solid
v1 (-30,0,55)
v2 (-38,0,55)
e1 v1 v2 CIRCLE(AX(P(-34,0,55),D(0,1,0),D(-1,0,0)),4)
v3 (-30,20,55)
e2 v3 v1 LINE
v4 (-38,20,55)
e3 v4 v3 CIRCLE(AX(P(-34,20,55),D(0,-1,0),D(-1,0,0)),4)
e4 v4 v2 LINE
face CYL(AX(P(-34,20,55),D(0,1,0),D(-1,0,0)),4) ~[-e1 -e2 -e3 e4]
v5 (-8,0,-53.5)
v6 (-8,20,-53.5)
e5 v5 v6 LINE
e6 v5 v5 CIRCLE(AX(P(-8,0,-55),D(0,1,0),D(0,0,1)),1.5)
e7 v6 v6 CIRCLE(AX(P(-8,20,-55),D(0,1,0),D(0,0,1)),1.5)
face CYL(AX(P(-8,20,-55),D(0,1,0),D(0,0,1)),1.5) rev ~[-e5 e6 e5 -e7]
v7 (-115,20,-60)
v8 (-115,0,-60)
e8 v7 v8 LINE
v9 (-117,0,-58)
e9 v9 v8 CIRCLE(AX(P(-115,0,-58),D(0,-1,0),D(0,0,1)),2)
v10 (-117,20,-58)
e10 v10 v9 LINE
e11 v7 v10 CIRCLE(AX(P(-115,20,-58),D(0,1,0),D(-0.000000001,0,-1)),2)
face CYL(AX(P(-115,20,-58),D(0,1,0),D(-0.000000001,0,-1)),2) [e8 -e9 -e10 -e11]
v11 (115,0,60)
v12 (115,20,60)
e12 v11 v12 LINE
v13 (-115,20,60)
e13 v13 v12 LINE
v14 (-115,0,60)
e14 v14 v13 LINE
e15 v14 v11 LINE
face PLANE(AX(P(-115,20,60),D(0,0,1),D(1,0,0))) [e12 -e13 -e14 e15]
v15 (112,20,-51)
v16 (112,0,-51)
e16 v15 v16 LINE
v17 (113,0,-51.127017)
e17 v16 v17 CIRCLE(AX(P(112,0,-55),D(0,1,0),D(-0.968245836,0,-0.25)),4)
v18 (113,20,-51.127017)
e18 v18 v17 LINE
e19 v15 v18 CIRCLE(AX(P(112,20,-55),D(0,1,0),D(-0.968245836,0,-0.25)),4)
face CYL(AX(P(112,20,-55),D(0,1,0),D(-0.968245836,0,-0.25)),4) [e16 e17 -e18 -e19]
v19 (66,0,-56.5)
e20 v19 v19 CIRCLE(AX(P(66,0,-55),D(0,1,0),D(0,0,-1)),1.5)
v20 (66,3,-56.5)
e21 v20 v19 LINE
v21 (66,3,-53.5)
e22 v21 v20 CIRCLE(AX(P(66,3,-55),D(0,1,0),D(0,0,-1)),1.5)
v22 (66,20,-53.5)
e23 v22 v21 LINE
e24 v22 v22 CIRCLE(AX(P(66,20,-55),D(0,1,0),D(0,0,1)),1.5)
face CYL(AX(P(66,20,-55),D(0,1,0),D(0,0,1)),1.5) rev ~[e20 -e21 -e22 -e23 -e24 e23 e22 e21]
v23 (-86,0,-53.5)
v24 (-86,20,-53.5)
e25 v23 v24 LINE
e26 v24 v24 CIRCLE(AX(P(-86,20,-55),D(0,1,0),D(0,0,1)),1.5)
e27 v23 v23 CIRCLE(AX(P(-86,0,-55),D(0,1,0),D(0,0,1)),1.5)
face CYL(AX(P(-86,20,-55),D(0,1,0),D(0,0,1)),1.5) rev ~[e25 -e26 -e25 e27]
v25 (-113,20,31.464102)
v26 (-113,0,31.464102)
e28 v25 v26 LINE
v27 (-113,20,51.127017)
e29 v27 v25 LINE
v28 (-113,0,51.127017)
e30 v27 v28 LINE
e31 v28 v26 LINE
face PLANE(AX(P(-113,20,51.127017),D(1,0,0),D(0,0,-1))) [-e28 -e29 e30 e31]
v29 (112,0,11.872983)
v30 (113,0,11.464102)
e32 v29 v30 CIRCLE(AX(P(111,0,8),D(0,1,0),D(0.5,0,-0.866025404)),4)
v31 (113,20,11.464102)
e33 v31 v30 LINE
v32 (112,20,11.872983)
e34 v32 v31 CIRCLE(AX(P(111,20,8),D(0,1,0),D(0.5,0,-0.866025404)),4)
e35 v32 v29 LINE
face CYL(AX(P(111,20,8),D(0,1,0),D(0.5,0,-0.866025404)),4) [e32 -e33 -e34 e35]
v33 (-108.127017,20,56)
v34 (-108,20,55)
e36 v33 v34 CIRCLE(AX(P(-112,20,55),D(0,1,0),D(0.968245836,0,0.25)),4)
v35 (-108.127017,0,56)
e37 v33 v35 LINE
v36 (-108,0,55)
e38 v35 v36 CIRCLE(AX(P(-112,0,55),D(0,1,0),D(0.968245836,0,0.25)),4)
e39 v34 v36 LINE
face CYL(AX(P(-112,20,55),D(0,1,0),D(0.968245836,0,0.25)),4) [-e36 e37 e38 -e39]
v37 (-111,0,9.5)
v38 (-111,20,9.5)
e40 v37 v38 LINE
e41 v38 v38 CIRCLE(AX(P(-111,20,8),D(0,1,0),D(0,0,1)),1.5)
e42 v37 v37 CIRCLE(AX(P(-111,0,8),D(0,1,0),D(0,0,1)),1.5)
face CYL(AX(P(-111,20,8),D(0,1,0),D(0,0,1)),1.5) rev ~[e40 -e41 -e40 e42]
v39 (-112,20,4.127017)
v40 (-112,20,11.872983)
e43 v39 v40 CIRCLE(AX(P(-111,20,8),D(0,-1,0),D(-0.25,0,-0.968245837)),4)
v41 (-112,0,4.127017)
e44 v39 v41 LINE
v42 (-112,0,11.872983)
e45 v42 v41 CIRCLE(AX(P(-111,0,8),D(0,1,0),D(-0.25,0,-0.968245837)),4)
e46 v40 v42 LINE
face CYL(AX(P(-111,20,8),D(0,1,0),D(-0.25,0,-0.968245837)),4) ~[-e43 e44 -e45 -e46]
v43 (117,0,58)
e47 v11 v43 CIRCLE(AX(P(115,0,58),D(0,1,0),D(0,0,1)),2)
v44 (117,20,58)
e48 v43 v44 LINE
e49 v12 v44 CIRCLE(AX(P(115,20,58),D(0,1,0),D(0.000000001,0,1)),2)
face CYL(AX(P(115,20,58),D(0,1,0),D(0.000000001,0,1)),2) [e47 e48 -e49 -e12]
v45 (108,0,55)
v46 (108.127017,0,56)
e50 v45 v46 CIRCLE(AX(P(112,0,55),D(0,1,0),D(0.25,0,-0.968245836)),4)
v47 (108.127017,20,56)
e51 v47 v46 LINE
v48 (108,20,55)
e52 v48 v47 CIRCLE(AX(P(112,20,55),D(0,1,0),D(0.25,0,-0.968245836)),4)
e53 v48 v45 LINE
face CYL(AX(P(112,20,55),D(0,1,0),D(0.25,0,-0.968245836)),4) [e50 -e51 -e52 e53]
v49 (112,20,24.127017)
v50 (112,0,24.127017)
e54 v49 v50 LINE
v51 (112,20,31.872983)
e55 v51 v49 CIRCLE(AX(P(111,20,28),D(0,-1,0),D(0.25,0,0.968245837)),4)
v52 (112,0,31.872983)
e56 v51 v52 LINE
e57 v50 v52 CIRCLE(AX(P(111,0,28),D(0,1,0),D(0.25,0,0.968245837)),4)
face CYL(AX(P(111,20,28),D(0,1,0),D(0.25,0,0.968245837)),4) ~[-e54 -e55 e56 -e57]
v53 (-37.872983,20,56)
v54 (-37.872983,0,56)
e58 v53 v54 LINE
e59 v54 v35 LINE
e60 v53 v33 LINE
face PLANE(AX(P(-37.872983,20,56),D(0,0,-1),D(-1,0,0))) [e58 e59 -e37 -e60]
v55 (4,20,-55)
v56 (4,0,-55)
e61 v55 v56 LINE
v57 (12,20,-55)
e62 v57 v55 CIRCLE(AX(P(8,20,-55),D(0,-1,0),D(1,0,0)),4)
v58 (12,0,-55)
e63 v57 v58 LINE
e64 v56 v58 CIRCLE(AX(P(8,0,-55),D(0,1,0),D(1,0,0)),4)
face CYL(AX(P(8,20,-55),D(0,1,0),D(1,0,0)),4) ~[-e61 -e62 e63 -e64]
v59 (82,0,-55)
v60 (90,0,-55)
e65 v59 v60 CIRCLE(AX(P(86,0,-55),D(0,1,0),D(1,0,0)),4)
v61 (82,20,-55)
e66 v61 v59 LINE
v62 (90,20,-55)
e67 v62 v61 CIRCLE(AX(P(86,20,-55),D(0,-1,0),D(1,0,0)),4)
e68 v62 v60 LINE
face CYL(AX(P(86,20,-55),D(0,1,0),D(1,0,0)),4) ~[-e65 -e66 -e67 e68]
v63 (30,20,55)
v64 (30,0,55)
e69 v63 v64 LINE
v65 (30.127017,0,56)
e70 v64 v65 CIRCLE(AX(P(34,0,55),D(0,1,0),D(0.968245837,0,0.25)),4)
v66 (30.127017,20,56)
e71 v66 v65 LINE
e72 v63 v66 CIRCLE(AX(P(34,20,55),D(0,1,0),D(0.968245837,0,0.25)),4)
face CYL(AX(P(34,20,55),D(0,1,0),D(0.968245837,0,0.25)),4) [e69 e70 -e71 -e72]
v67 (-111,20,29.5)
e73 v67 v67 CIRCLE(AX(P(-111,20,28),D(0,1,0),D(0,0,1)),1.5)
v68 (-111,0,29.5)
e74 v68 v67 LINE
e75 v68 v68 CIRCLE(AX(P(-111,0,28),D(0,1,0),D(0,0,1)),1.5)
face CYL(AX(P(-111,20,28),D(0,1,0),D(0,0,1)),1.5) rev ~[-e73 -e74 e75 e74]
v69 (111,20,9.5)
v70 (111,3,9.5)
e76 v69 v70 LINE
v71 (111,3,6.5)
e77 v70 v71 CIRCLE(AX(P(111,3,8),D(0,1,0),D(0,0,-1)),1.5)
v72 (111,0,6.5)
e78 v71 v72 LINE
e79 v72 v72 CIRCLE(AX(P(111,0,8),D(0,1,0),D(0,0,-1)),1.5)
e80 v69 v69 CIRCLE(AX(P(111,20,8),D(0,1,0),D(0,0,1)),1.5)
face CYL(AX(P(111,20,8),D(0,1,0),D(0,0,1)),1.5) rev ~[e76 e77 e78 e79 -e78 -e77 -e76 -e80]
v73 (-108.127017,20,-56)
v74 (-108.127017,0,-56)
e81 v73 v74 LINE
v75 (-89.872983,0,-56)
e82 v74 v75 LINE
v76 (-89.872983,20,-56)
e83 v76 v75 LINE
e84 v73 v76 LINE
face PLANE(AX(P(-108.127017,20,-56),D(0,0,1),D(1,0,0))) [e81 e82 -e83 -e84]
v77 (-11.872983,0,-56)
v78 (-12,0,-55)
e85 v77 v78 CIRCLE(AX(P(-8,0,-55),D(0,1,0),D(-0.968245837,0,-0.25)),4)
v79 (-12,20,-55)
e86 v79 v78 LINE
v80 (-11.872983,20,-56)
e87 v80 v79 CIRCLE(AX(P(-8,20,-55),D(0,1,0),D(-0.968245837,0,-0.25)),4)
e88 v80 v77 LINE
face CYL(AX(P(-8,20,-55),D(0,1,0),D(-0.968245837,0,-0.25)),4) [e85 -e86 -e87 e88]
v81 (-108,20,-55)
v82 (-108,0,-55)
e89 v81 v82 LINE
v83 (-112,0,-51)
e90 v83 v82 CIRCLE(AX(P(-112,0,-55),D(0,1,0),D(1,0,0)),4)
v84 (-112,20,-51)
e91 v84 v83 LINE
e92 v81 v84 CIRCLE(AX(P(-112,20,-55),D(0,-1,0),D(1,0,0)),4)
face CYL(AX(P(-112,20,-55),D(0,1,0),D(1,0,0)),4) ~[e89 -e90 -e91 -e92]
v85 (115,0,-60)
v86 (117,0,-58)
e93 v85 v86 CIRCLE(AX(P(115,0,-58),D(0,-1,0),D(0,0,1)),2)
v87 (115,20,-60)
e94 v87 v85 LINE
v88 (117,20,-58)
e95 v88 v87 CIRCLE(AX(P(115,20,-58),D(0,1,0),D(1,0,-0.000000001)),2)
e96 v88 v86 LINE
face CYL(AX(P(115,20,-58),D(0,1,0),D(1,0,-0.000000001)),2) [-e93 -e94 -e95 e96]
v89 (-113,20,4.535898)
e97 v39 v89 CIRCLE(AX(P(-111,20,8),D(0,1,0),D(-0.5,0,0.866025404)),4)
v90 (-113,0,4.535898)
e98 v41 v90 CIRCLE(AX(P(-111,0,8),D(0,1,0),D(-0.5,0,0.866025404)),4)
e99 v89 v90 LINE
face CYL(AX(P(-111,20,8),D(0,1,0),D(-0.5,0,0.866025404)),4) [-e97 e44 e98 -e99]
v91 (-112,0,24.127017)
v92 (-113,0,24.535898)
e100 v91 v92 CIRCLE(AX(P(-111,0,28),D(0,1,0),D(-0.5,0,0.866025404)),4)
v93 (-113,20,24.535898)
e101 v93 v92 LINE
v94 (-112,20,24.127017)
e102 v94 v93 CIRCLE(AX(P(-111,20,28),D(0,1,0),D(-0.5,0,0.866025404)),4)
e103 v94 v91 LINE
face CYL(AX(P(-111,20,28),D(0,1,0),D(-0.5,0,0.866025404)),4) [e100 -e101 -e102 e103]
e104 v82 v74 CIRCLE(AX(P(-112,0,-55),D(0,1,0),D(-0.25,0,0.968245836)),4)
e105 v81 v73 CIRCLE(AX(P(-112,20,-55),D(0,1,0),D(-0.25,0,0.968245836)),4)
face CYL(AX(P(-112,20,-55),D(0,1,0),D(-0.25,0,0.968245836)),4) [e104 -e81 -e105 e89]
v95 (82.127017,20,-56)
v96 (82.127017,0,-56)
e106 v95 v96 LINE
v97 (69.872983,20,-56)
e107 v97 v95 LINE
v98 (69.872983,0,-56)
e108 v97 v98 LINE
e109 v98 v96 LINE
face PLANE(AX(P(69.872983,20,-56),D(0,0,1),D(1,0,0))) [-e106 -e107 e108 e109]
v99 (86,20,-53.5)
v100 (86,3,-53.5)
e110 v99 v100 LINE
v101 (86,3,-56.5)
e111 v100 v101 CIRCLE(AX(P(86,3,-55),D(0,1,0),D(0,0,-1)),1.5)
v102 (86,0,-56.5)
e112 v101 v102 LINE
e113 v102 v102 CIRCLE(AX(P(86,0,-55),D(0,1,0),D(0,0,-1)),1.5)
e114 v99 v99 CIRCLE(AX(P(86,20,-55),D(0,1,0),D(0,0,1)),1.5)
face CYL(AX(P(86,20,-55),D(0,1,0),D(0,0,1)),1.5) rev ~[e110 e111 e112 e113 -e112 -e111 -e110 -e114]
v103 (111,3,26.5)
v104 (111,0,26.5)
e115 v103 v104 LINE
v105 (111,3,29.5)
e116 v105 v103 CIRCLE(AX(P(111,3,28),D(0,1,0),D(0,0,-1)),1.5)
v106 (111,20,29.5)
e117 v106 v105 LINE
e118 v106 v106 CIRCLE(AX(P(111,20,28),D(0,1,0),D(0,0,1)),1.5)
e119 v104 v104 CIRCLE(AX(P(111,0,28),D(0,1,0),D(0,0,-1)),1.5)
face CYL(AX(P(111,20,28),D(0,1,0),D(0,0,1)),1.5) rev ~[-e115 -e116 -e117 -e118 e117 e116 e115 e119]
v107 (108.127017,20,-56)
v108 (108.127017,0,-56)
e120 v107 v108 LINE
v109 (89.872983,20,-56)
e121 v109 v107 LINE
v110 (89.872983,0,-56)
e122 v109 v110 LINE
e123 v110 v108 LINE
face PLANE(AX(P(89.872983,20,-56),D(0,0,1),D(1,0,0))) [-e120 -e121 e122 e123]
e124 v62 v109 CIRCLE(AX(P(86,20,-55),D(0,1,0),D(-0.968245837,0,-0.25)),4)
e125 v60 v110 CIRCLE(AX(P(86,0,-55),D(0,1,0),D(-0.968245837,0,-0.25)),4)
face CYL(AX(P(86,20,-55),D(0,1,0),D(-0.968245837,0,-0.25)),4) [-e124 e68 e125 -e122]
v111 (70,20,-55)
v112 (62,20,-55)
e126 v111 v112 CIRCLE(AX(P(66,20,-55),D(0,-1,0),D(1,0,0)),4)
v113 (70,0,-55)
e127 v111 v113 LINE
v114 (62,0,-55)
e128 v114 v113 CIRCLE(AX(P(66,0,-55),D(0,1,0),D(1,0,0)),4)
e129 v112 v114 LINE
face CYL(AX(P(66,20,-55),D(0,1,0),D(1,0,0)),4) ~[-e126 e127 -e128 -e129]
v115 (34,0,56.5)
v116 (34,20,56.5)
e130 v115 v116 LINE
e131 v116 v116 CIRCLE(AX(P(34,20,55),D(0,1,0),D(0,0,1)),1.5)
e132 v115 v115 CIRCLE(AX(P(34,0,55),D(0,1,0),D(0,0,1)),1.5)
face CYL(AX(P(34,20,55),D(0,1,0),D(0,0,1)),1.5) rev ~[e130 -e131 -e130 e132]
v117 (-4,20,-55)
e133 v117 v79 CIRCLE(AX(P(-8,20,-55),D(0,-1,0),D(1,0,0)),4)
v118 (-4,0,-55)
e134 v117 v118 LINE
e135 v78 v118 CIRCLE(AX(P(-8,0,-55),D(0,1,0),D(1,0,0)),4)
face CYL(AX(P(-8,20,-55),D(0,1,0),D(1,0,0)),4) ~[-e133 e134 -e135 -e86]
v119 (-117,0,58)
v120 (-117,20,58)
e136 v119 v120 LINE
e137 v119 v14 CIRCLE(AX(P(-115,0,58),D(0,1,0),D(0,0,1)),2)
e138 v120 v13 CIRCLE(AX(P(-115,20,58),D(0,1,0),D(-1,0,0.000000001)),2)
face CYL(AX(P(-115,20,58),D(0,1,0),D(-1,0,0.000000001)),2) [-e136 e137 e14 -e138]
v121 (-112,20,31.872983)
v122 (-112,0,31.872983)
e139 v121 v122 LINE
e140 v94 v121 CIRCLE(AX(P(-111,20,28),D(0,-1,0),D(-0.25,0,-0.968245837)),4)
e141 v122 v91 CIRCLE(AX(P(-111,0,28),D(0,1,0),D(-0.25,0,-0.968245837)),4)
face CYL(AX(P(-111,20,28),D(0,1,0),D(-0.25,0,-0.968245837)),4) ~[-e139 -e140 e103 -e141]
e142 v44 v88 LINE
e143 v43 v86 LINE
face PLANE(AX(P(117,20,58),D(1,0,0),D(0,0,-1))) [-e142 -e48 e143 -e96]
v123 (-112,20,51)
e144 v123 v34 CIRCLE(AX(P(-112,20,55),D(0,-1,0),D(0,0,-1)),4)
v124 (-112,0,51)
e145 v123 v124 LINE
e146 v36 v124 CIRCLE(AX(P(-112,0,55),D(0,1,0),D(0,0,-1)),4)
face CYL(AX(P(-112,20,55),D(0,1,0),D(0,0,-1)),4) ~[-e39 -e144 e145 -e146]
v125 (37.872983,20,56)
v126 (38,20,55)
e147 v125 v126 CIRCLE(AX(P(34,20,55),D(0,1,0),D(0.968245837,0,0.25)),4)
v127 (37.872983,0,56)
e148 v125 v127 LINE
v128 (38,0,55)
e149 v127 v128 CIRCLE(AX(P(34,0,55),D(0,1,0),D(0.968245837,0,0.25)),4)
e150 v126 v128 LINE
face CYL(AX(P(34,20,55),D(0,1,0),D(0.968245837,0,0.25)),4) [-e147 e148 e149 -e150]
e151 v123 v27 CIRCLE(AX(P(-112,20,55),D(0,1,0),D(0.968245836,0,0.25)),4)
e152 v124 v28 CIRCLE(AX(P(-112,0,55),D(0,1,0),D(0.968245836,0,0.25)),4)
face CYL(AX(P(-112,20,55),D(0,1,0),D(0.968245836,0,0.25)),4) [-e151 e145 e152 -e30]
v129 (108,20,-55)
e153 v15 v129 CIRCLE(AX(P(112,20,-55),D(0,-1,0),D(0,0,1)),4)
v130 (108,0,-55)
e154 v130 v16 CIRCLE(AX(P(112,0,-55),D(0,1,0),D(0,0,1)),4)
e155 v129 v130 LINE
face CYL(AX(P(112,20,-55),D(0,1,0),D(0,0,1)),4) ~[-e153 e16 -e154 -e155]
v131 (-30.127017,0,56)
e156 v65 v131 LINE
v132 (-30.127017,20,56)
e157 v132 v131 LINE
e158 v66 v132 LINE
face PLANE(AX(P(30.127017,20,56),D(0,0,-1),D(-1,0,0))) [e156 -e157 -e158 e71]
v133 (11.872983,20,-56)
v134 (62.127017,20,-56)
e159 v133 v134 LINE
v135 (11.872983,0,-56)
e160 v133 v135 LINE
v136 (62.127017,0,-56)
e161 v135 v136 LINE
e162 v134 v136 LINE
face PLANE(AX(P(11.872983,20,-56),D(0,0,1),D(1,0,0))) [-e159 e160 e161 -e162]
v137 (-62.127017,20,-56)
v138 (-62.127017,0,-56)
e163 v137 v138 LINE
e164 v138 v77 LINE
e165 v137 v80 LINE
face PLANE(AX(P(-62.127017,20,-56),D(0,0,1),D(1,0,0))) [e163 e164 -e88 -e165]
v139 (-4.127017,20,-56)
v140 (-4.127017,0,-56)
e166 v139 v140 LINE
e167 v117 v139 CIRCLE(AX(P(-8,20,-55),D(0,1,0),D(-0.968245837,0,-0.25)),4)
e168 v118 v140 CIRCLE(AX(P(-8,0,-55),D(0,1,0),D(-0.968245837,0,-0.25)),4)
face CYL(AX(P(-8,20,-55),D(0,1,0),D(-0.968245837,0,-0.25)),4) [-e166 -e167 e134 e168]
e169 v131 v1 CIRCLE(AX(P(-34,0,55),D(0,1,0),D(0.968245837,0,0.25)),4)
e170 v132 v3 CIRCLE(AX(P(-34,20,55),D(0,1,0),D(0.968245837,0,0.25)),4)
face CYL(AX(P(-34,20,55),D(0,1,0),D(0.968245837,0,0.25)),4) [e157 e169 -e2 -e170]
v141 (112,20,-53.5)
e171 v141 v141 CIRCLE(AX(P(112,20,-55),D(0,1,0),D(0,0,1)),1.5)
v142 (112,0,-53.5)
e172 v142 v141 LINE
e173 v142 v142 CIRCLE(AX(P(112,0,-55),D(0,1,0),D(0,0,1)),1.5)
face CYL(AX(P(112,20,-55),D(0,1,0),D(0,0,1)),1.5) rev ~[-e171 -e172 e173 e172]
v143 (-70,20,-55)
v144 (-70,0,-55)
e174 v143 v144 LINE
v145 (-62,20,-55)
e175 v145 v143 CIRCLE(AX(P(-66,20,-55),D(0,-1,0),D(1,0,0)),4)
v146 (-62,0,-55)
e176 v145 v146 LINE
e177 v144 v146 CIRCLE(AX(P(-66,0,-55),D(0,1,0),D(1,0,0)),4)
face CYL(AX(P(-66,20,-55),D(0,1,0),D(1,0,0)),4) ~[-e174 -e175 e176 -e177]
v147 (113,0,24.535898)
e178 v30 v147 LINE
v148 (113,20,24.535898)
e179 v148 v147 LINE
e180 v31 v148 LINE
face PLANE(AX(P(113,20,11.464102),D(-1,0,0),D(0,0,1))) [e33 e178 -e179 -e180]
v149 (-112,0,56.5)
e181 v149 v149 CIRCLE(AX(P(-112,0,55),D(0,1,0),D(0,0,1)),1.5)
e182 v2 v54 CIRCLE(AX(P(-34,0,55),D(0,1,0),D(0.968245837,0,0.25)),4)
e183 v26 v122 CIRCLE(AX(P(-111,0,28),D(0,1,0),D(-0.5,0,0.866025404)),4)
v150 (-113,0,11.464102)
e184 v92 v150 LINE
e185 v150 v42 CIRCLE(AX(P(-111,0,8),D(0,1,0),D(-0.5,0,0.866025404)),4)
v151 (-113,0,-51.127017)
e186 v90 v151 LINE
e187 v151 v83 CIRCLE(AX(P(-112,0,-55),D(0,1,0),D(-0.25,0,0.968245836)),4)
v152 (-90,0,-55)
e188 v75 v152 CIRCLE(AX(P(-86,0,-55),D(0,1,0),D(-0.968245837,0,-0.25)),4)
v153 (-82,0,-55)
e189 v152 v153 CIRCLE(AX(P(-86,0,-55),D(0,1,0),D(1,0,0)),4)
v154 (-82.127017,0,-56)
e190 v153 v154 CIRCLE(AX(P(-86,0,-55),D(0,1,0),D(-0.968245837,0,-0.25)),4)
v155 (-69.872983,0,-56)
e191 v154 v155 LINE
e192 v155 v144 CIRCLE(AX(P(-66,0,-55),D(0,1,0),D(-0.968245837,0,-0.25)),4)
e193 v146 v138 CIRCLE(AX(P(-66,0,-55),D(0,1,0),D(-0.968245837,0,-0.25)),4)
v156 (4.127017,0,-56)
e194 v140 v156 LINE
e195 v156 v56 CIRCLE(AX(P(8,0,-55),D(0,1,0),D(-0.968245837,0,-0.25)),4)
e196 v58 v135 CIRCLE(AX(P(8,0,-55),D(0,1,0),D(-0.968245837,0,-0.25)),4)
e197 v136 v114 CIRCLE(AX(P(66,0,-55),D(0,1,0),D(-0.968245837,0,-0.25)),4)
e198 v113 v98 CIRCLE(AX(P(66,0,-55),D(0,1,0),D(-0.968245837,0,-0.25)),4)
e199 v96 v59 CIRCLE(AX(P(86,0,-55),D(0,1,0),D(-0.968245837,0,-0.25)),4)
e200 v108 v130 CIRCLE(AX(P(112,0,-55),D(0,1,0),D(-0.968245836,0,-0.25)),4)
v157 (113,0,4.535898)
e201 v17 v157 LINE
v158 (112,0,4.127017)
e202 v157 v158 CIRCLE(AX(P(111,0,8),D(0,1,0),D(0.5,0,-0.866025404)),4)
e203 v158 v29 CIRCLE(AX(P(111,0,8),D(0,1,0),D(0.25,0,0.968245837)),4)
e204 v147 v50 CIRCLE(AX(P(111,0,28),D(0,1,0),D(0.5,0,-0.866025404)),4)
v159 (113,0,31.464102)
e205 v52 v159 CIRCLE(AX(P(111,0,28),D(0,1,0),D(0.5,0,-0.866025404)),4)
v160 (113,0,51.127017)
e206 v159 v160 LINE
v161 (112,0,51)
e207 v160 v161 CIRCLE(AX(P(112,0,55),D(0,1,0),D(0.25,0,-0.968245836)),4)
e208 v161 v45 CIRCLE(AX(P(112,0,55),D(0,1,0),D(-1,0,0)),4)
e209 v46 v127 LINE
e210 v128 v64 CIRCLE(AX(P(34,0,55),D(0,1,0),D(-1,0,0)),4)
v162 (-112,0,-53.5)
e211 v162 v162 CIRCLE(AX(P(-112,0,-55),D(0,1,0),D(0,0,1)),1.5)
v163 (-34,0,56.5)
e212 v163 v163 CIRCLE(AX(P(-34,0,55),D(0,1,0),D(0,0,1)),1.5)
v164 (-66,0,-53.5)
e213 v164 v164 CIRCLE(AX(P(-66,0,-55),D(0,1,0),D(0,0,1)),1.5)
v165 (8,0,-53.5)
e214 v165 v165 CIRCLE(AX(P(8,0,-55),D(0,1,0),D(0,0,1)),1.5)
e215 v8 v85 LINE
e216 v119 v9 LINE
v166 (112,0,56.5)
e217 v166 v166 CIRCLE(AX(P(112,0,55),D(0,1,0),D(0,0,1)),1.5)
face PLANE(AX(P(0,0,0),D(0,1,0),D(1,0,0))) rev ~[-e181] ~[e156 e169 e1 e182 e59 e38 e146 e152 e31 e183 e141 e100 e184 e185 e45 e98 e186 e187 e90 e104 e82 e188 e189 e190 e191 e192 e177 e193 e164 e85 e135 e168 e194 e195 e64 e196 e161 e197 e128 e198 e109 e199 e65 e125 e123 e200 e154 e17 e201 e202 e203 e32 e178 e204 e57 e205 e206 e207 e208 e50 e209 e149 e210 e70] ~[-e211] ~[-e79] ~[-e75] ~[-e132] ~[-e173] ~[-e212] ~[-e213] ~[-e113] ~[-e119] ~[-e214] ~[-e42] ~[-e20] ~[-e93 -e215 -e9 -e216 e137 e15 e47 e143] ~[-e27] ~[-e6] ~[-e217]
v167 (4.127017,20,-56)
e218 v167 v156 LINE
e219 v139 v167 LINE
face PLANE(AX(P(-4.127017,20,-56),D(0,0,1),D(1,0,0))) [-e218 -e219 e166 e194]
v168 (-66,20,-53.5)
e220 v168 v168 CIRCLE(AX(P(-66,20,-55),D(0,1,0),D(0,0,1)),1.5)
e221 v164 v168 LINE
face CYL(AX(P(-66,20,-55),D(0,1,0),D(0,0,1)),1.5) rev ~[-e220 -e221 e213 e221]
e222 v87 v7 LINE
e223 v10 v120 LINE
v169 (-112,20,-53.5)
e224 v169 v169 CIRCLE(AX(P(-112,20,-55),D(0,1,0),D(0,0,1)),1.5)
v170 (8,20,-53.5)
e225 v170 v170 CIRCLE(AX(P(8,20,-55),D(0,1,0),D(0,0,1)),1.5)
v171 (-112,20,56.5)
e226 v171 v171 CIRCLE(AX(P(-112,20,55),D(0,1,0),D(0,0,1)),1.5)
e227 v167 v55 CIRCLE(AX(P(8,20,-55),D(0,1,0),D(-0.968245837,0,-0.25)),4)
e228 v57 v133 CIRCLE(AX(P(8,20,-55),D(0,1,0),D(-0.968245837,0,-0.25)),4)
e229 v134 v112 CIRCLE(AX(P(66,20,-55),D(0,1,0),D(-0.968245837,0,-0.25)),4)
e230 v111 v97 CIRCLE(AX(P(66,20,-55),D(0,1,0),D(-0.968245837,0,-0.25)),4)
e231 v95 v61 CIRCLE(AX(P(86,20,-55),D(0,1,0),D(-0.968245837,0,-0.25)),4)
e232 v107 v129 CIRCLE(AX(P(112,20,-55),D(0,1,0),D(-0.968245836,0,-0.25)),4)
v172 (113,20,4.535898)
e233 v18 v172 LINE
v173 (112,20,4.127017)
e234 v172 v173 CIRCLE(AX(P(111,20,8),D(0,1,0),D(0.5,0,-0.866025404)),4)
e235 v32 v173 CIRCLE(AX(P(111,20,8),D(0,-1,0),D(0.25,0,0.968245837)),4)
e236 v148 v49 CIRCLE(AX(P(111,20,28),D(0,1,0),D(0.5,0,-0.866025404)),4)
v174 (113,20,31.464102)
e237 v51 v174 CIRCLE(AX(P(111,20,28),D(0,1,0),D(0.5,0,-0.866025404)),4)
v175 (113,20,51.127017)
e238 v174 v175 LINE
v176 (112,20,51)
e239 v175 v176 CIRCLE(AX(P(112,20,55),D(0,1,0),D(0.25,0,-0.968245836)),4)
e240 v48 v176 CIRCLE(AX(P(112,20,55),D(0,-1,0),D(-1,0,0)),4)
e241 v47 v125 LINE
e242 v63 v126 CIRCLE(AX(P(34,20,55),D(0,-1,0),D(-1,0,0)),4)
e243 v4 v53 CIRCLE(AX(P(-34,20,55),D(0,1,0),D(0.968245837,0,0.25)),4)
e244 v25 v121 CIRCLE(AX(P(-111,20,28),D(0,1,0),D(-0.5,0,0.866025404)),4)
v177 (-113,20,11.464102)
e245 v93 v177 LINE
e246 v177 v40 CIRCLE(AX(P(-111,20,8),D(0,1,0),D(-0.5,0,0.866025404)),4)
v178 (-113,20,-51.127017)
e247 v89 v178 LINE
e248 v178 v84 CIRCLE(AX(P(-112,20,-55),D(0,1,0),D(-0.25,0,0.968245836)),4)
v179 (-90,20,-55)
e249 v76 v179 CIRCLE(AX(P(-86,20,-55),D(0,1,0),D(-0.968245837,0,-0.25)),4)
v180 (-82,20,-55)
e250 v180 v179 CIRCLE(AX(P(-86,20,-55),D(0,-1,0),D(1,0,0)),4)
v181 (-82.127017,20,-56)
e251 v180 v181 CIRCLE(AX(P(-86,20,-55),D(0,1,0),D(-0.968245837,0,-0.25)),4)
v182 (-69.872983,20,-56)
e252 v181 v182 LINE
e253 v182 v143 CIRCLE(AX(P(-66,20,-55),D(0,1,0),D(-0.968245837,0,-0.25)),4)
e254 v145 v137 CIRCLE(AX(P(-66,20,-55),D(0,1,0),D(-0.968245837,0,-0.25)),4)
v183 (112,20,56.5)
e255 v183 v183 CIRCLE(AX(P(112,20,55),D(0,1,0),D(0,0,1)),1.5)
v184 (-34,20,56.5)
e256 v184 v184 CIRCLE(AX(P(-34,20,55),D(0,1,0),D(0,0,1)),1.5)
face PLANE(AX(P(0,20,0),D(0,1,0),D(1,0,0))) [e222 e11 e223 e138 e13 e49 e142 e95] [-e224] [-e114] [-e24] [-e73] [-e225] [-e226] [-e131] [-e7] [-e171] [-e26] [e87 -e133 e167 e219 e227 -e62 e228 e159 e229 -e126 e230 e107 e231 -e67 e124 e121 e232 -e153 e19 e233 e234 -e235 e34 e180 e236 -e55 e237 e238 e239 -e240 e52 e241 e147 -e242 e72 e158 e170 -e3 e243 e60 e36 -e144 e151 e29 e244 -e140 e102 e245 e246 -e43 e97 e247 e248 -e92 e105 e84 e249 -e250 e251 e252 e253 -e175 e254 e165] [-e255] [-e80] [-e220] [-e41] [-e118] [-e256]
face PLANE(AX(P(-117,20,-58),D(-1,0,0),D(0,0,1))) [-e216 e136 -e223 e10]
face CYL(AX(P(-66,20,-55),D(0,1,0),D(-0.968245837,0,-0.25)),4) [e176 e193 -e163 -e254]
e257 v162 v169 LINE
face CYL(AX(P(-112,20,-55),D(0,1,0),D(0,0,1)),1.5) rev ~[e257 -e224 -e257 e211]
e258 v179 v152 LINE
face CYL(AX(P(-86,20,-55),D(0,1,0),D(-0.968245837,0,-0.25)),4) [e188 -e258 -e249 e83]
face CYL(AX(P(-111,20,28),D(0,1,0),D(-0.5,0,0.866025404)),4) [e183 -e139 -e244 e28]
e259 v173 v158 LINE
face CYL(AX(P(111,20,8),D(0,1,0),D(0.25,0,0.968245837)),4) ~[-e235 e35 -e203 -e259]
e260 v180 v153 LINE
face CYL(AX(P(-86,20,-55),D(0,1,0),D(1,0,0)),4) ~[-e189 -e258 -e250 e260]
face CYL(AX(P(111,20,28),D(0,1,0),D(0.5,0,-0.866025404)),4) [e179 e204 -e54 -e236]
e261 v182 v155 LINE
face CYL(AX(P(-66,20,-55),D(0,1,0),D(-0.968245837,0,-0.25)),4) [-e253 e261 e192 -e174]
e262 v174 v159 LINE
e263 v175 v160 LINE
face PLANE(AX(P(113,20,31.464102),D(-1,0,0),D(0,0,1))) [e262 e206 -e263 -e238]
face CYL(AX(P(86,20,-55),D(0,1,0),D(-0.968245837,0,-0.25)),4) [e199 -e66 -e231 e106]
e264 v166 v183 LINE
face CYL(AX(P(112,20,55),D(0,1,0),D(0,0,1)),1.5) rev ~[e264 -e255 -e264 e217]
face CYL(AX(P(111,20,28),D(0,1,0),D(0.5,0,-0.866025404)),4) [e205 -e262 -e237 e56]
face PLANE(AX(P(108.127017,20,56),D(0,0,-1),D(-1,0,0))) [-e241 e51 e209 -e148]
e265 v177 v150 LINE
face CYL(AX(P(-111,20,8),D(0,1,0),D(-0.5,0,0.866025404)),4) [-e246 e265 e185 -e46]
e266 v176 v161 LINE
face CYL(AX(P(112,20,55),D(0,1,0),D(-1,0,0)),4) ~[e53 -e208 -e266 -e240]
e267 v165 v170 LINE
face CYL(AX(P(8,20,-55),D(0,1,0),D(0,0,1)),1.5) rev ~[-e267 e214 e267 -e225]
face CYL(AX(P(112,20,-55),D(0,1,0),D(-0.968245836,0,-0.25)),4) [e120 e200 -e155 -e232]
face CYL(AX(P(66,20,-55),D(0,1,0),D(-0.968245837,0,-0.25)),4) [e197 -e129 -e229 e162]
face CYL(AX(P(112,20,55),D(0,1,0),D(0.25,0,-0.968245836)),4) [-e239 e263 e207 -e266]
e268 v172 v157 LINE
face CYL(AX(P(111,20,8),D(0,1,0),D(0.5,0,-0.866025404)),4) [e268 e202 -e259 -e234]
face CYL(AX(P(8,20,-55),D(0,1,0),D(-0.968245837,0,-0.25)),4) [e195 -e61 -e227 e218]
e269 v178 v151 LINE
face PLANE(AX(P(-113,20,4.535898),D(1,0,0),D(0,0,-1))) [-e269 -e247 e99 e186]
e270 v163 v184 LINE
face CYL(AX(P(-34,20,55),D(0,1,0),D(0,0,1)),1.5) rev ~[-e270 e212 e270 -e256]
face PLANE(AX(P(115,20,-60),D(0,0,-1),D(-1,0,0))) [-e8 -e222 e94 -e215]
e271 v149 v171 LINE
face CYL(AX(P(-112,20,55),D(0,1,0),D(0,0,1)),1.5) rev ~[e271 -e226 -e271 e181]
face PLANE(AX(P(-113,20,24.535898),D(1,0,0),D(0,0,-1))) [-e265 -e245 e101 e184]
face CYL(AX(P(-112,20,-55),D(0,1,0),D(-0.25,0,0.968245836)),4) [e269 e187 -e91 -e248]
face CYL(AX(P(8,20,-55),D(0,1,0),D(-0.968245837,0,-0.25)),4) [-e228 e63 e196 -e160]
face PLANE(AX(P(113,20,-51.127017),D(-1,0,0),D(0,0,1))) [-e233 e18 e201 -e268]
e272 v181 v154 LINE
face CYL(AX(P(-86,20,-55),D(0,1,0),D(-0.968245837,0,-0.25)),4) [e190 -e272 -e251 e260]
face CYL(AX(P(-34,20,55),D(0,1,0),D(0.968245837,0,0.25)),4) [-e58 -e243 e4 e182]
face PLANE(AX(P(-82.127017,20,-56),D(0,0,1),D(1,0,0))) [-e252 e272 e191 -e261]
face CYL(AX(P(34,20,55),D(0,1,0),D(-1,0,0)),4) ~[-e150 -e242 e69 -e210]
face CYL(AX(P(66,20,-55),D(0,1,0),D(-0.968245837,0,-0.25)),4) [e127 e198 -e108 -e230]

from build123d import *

# Parameters (mm, degrees)
SKETCH_1_W          = 234
SKETCH_1_H          = 120
SKETCH_1_R          = 45
EXTRUDE_1_DEPTH     = 3
SKETCH_2_R          = 1.5
CUT_EXTRUDE_1_DEPTH = 3
SKETCH_3_R          = 1.5
CUT_EXTRUDE_2_DEPTH = 3
SKETCH_4_R          = 1.5
CUT_EXTRUDE_3_DEPTH = 3
SKETCH_5_R          = 1.5
CUT_EXTRUDE_4_DEPTH = 3
FILLET_1_R          = 2
CUT_EXTRUDE_5_DEPTH = 10
EXTRUDE_START       = 17
SKETCH_7_R          = 1.5
EXTRUDE_2_DEPTH     = 17
CUT_EXTRUDE_6_DEPTH = 50
CUT_EXTRUDE_7_DEPTH = 73


with BuildPart() as part:
    # 草图1 → 凸台-拉伸1 (new body)
    with BuildSketch(Plane(origin=(0, 0, 0), x_dir=(1, 0, 0), z_dir=(0, 1, 0))):
        Rectangle(SKETCH_1_W, SKETCH_1_H)
        with Locations(Location((-58.5, 0, 0), (0, 0, 270))):
            Circle(SKETCH_1_R, mode=Mode.SUBTRACT)
        with Locations(Location((58.5, 0, 0), (0, 0, 90))):
            Circle(SKETCH_1_R, mode=Mode.SUBTRACT)
    extrude(amount=EXTRUDE_1_DEPTH)

    # 草图2 → 切除-拉伸1 (cut)
    with BuildSketch(Plane(origin=(0, 3, 0), x_dir=(1, 0, 0), z_dir=(0, 1, 0))):
        with Locations(Location((-88.5, -40, 0), (0, 0, 270))):
            Circle(SKETCH_2_R)
        with Locations(Location((-83.5, 43.301270189, 0), (0, 0, 270))):
            Circle(SKETCH_2_R)
        with Locations(Location((-33.5, 43.301270189, 0), (0, 0, 90))):
            Circle(SKETCH_2_R)
        with Locations(Location((-28.5, -40, 0), (0, 0, 90))):
            Circle(SKETCH_2_R)
        with Locations(Location((28.5, -40, 0), (0, 0, 270))):
            Circle(SKETCH_2_R)
        with Locations(Location((88.5, -40, 0), (0, 0, 90))):
            Circle(SKETCH_2_R)
        with Locations(Location((33.5, 43.301270189, 0), (0, 0, 270))):
            Circle(SKETCH_2_R)
        with Locations(Location((83.5, 43.301270189, 0), (0, 0, 90))):
            Circle(SKETCH_2_R)
    extrude(amount=-CUT_EXTRUDE_1_DEPTH, mode=Mode.SUBTRACT)

    # 草图3 → 切除-拉伸2 (cut)
    with BuildSketch(Plane(origin=(0, 3, 0), x_dir=(1, 0, 0), z_dir=(0, 1, 0))):
        with Locations(Location((-111, -28, 0), (0, 0, 270))):
            Circle(SKETCH_3_R)
        with Locations(Location((-111, -8, 0), (0, 0, 270))):
            Circle(SKETCH_3_R)
        with Locations(Location((111, -8, 0), (0, 0, 90))):
            Circle(SKETCH_3_R)
        with Locations(Location((111, -28, 0), (0, 0, 90))):
            Circle(SKETCH_3_R)
        with Locations(Location((-86, 55, 0), (0, 0, 270))):
            Circle(SKETCH_3_R)
        with Locations(Location((-66, 55, 0), (0, 0, 270))):
            Circle(SKETCH_3_R)
        with Locations(Location((66, 55, 0), (0, 0, 90))):
            Circle(SKETCH_3_R)
        with Locations(Location((86, 55, 0), (0, 0, 90))):
            Circle(SKETCH_3_R)
    extrude(amount=-CUT_EXTRUDE_2_DEPTH, mode=Mode.SUBTRACT)

    # 草图4 → 切除-拉伸3 (cut)
    with BuildSketch(Plane(origin=(0, 3, 0), x_dir=(1, 0, 0), z_dir=(0, 1, 0))):
        with Locations(Location((-112, -55, 0), (0, 0, 270))):
            Circle(SKETCH_4_R)
        with Locations(Location((-112, 55, 0), (0, 0, 270))):
            Circle(SKETCH_4_R)
        with Locations(Location((112, 55, 0), (0, 0, 270))):
            Circle(SKETCH_4_R)
        with Locations(Location((112, -55, 0), (0, 0, 270))):
            Circle(SKETCH_4_R)
        with Locations(Location((-34, -55, 0), (0, 0, 270))):
            Circle(SKETCH_4_R)
        with Locations(Location((34, -55, 0), (0, 0, 270))):
            Circle(SKETCH_4_R)
    extrude(amount=-CUT_EXTRUDE_3_DEPTH, mode=Mode.SUBTRACT)

    # 草图5 → 切除-拉伸4 (cut)
    with BuildSketch(Plane(origin=(0, 3, 0), x_dir=(1, 0, 0), z_dir=(0, 1, 0))):
        with Locations(Location((-8, 55, 0), (0, 0, 270))):
            Circle(SKETCH_5_R)
        with Locations(Location((8, 55, 0), (0, 0, 270))):
            Circle(SKETCH_5_R)
    extrude(amount=-CUT_EXTRUDE_4_DEPTH, mode=Mode.SUBTRACT)

    # 圆角1
    fillet_1_edges = [part.edges().sort_by_distance(p)[0] for p in [
        (117, 1.5, 60),
        (-117, 1.5, 60),
        (-117, 1.5, -60),
        (117, 1.5, -60),
    ]]
    fillet(fillet_1_edges, radius=FILLET_1_R)

    # 草图6 → 切除-拉伸5 (cut)
    with BuildSketch(Plane(origin=(0, 3, 0), x_dir=(1, 0, 0), z_dir=(0, 1, 0))):
        with BuildLine():
            Line((109.5, -12.769696007), (109.5, -23.230303993))
            ThreePointArc((109.5, -23.230303993), (106, -28), (109.5, -32.769696007))
            Line((109.5, -32.769696007), (109.5, -50.669872981))
            ThreePointArc((109.5, -50.669872981), (108.464466094, -51.464466094), (107.669872981, -52.5))
            Line((107.669872981, -52.5), (38.330127019, -52.5))
            ThreePointArc((38.330127019, -52.5), (34, -50), (29.669872981, -52.5))
            Line((29.669872981, -52.5), (-29.669872981, -52.5))
            ThreePointArc((-29.669872981, -52.5), (-34, -50), (-38.330127019, -52.5))
            Line((-38.330127019, -52.5), (-107.669872981, -52.5))
            ThreePointArc((-107.669872981, -52.5), (-108.464466094, -51.464466094), (-109.5, -50.669872981))
            Line((-109.5, -50.669872981), (-109.5, -32.769696007))
            ThreePointArc((-109.5, -32.769696007), (-106, -28), (-109.5, -23.230303993))
            Line((-109.5, -23.230303993), (-109.5, -12.769696007))
            ThreePointArc((-109.5, -12.769696007), (-106, -8), (-109.5, -3.230303993))
            Line((-109.5, -3.230303993), (-109.5, 50.669872981))
            ThreePointArc((-109.5, 50.669872981), (-108.464466094, 51.464466094), (-107.669872981, 52.5))
            Line((-107.669872981, 52.5), (-90.330127019, 52.5))
            ThreePointArc((-90.330127019, 52.5), (-86, 50), (-81.669872981, 52.5))
            Line((-81.669872981, 52.5), (-70.330127019, 52.5))
            ThreePointArc((-70.330127019, 52.5), (-66, 50), (-61.669872981, 52.5))
            Line((-61.669872981, 52.5), (-12.330127019, 52.5))
            ThreePointArc((-12.330127019, 52.5), (-8, 50), (-3.669872981, 52.5))
            Line((-3.669872981, 52.5), (3.669872981, 52.5))
            ThreePointArc((3.669872981, 52.5), (8, 50), (12.330127019, 52.5))
            Line((12.330127019, 52.5), (61.669872981, 52.5))
            ThreePointArc((61.669872981, 52.5), (66, 50), (70.330127019, 52.5))
            Line((70.330127019, 52.5), (81.669872981, 52.5))
            ThreePointArc((81.669872981, 52.5), (86, 50), (90.330127019, 52.5))
            Line((90.330127019, 52.5), (107.669872981, 52.5))
            ThreePointArc((107.669872981, 52.5), (108.464466094, 51.464466094), (109.5, 50.669872981))
            Line((109.5, 50.669872981), (109.5, -3.230303993))
            ThreePointArc((109.5, -3.230303993), (106, -8), (109.5, -12.769696007))
        make_face()
    extrude(amount=-CUT_EXTRUDE_5_DEPTH, mode=Mode.SUBTRACT)

    # 草图7 → 凸台-拉伸2 (add)
    with BuildSketch(Plane(origin=(0, 3, 0), x_dir=(1, 0, 0), z_dir=(0, 1, 0)).offset(EXTRUDE_START)):
        with BuildLine():
            Line((-117, 58), (-117, -58))
            ThreePointArc((-117, -58), (-116.414213562, -59.414213562), (-115, -60))
            Line((-115, -60), (115, -60))
            ThreePointArc((115, -60), (116.414213562, -59.414213562), (117, -58))
            Line((117, -58), (117, 58))
            ThreePointArc((117, 58), (116.414213562, 59.414213562), (115, 60))
            Line((115, 60), (-115, 60))
            ThreePointArc((-115, 60), (-116.414213562, 59.414213562), (-117, 58))
        make_face()
        with Locations(Location((112, -55, 0), (0, 0, 270))):
            Circle(SKETCH_7_R, mode=Mode.SUBTRACT)
        with Locations(Location((111, -28, 0), (0, 0, 270))):
            Circle(SKETCH_7_R, mode=Mode.SUBTRACT)
        with Locations(Location((111, -8, 0), (0, 0, 270))):
            Circle(SKETCH_7_R, mode=Mode.SUBTRACT)
        with Locations(Location((112, 55, 0), (0, 0, 270))):
            Circle(SKETCH_7_R, mode=Mode.SUBTRACT)
        with Locations(Location((34, -55, 0), (0, 0, 270))):
            Circle(SKETCH_7_R, mode=Mode.SUBTRACT)
        with Locations(Location((-34, -55, 0), (0, 0, 270))):
            Circle(SKETCH_7_R, mode=Mode.SUBTRACT)
        with Locations(Location((86, 55, 0), (0, 0, 270))):
            Circle(SKETCH_7_R, mode=Mode.SUBTRACT)
        with Locations(Location((66, 55, 0), (0, 0, 270))):
            Circle(SKETCH_7_R, mode=Mode.SUBTRACT)
        with Locations(Location((8, 55, 0), (0, 0, 270))):
            Circle(SKETCH_7_R, mode=Mode.SUBTRACT)
        with Locations(Location((-8, 55, 0), (0, 0, 270))):
            Circle(SKETCH_7_R, mode=Mode.SUBTRACT)
        with Locations(Location((-66, 55, 0), (0, 0, 270))):
            Circle(SKETCH_7_R, mode=Mode.SUBTRACT)
        with Locations(Location((-86, 55, 0), (0, 0, 270))):
            Circle(SKETCH_7_R, mode=Mode.SUBTRACT)
        with Locations(Location((-112, 55, 0), (0, 0, 270))):
            Circle(SKETCH_7_R, mode=Mode.SUBTRACT)
        with Locations(Location((-112, -55, 0), (0, 0, 270))):
            Circle(SKETCH_7_R, mode=Mode.SUBTRACT)
        with Locations(Location((-111, -28, 0), (0, 0, 270))):
            Circle(SKETCH_7_R, mode=Mode.SUBTRACT)
        with Locations(Location((-111, -8, 0), (0, 0, 270))):
            Circle(SKETCH_7_R, mode=Mode.SUBTRACT)
        with BuildLine():
            Line((109.5, -50.669872981), (109.5, -32.769696007))
            ThreePointArc((109.5, -32.769696007), (106, -28), (109.5, -23.230303993))
            Line((109.5, -23.230303993), (109.5, -12.769696007))
            ThreePointArc((109.5, -12.769696007), (106, -8), (109.5, -3.230303993))
            Line((109.5, -3.230303993), (109.5, 50.669872981))
            ThreePointArc((109.5, 50.669872981), (108.464466094, 51.464466094), (107.669872981, 52.5))
            Line((107.669872981, 52.5), (90.330127019, 52.5))
            ThreePointArc((90.330127019, 52.5), (86, 50), (81.669872981, 52.5))
            Line((81.669872981, 52.5), (70.330127019, 52.5))
            ThreePointArc((70.330127019, 52.5), (66, 50), (61.669872981, 52.5))
            Line((61.669872981, 52.5), (12.330127019, 52.5))
            ThreePointArc((12.330127019, 52.5), (8, 50), (3.669872981, 52.5))
            Line((3.669872981, 52.5), (-3.669872981, 52.5))
            ThreePointArc((-3.669872981, 52.5), (-8, 50), (-12.330127019, 52.5))
            Line((-12.330127019, 52.5), (-61.669872981, 52.5))
            ThreePointArc((-61.669872981, 52.5), (-66, 50), (-70.330127019, 52.5))
            Line((-70.330127019, 52.5), (-81.669872981, 52.5))
            ThreePointArc((-81.669872981, 52.5), (-86, 50), (-90.330127019, 52.5))
            Line((-90.330127019, 52.5), (-107.669872981, 52.5))
            ThreePointArc((-107.669872981, 52.5), (-108.464466094, 51.464466094), (-109.5, 50.669872981))
            Line((-109.5, 50.669872981), (-109.5, -3.230303993))
            ThreePointArc((-109.5, -3.230303993), (-106, -8), (-109.5, -12.769696007))
            Line((-109.5, -12.769696007), (-109.5, -23.230303993))
            ThreePointArc((-109.5, -23.230303993), (-106, -28), (-109.5, -32.769696007))
            Line((-109.5, -32.769696007), (-109.5, -50.669872981))
            ThreePointArc((-109.5, -50.669872981), (-108.464466094, -51.464466094), (-107.669872981, -52.5))
            Line((-107.669872981, -52.5), (-38.330127019, -52.5))
            ThreePointArc((-38.330127019, -52.5), (-34, -50), (-29.669872981, -52.5))
            Line((-29.669872981, -52.5), (29.669872981, -52.5))
            ThreePointArc((29.669872981, -52.5), (34, -50), (38.330127019, -52.5))
            Line((38.330127019, -52.5), (107.669872981, -52.5))
            ThreePointArc((107.669872981, -52.5), (108.464466094, -51.464466094), (109.5, -50.669872981))
        make_face(mode=Mode.SUBTRACT)
    extrude(amount=-EXTRUDE_2_DEPTH)

    # 草图8 → 切除-拉伸6 (cut)
    with BuildSketch(Plane(origin=(0, 20, 0), x_dir=(1, 0, 0), z_dir=(0, 1, 0))):
        with BuildLine():
            Line((-90, 55), (-108, 55))
            ThreePointArc((-108, 55), (-109.171572875, 52.171572875), (-112, 51))
            Line((-112, 51), (-112, -4.127016654))
            ThreePointArc((-112, -4.127016654), (-107, -8), (-112, -11.872983346))
            Line((-112, -11.872983346), (-112, -24.127016654))
            ThreePointArc((-112, -24.127016654), (-107, -28), (-112, -31.872983346))
            Line((-112, -31.872983346), (-112, -51))
            ThreePointArc((-112, -51), (-109.171572875, -52.171572875), (-108, -55))
            Line((-108, -55), (-38, -55))
            ThreePointArc((-38, -55), (-34, -51), (-30, -55))
            Line((-30, -55), (30, -55))
            ThreePointArc((30, -55), (34, -51), (38, -55))
            Line((38, -55), (108, -55))
            ThreePointArc((108, -55), (109.171572875, -52.171572875), (112, -51))
            Line((112, -51), (112, -31.872983346))
            ThreePointArc((112, -31.872983346), (107, -28), (112, -24.127016654))
            Line((112, -24.127016654), (112, -11.872983346))
            ThreePointArc((112, -11.872983346), (107, -8), (112, -4.127016654))
            Line((112, -4.127016654), (112, 51))
            ThreePointArc((112, 51), (109.171572875, 52.171572875), (108, 55))
            Line((108, 55), (90, 55))
            ThreePointArc((90, 55), (86, 51), (82, 55))
            Line((82, 55), (70, 55))
            ThreePointArc((70, 55), (66, 51), (62, 55))
            Line((62, 55), (12, 55))
            ThreePointArc((12, 55), (8, 51), (4, 55))
            Line((4, 55), (-4, 55))
            ThreePointArc((-4, 55), (-8, 51), (-12, 55))
            Line((-12, 55), (-62, 55))
            ThreePointArc((-62, 55), (-66, 51), (-70, 55))
            Line((-70, 55), (-82, 55))
            ThreePointArc((-82, 55), (-86, 51), (-90, 55))
        make_face()
    extrude(amount=-CUT_EXTRUDE_6_DEPTH, mode=Mode.SUBTRACT)

    # 草图9 → 切除-拉伸7 (cut)
    with BuildSketch(Plane(origin=(0, 20, 0), x_dir=(1, 0, 0), z_dir=(0, 1, 0))):
        with BuildLine():
            Line((113, 51.127016654), (113, -4.535898385))
            ThreePointArc((113, -4.535898385), (107, -8), (113, -11.464101615))
            Line((113, -11.464101615), (113, -24.535898385))
            ThreePointArc((113, -24.535898385), (107, -28), (113, -31.464101615))
            Line((113, -31.464101615), (113, -51.127016654))
            ThreePointArc((113, -51.127016654), (109.171572875, -52.171572875), (108.127016654, -56))
            Line((108.127016654, -56), (37.872983346, -56))
            ThreePointArc((37.872983346, -56), (34, -51), (30.127016654, -56))
            Line((30.127016654, -56), (-30.127016654, -56))
            ThreePointArc((-30.127016654, -56), (-34, -51), (-37.872983346, -56))
            Line((-37.872983346, -56), (-108.127016654, -56))
            ThreePointArc((-108.127016654, -56), (-109.171572875, -52.171572875), (-113, -51.127016654))
            Line((-113, -51.127016654), (-113, -31.464101615))
            ThreePointArc((-113, -31.464101615), (-107, -28), (-113, -24.535898385))
            Line((-113, -24.535898385), (-113, -11.464101615))
            ThreePointArc((-113, -11.464101615), (-107, -8), (-113, -4.535898385))
            Line((-113, -4.535898385), (-113, 51.127016654))
            ThreePointArc((-113, 51.127016654), (-109.171572875, 52.171572875), (-108.127016654, 56))
            Line((-108.127016654, 56), (-89.872983346, 56))
            ThreePointArc((-89.872983346, 56), (-86, 51), (-82.127016654, 56))
            Line((-82.127016654, 56), (-69.872983346, 56))
            ThreePointArc((-69.872983346, 56), (-66, 51), (-62.127016654, 56))
            Line((-62.127016654, 56), (-11.872983346, 56))
            ThreePointArc((-11.872983346, 56), (-8, 51), (-4.127016654, 56))
            Line((-4.127016654, 56), (4.127016654, 56))
            ThreePointArc((4.127016654, 56), (8, 51), (11.872983346, 56))
            Line((11.872983346, 56), (62.127016654, 56))
            ThreePointArc((62.127016654, 56), (66, 51), (69.872983346, 56))
            Line((69.872983346, 56), (82.127016654, 56))
            ThreePointArc((82.127016654, 56), (86, 51), (89.872983346, 56))
            Line((89.872983346, 56), (108.127016654, 56))
            ThreePointArc((108.127016654, 56), (109.171572875, 52.171572875), (113, 51.127016654))
        make_face()
    extrude(amount=-CUT_EXTRUDE_7_DEPTH, mode=Mode.SUBTRACT)


solid = part.part
